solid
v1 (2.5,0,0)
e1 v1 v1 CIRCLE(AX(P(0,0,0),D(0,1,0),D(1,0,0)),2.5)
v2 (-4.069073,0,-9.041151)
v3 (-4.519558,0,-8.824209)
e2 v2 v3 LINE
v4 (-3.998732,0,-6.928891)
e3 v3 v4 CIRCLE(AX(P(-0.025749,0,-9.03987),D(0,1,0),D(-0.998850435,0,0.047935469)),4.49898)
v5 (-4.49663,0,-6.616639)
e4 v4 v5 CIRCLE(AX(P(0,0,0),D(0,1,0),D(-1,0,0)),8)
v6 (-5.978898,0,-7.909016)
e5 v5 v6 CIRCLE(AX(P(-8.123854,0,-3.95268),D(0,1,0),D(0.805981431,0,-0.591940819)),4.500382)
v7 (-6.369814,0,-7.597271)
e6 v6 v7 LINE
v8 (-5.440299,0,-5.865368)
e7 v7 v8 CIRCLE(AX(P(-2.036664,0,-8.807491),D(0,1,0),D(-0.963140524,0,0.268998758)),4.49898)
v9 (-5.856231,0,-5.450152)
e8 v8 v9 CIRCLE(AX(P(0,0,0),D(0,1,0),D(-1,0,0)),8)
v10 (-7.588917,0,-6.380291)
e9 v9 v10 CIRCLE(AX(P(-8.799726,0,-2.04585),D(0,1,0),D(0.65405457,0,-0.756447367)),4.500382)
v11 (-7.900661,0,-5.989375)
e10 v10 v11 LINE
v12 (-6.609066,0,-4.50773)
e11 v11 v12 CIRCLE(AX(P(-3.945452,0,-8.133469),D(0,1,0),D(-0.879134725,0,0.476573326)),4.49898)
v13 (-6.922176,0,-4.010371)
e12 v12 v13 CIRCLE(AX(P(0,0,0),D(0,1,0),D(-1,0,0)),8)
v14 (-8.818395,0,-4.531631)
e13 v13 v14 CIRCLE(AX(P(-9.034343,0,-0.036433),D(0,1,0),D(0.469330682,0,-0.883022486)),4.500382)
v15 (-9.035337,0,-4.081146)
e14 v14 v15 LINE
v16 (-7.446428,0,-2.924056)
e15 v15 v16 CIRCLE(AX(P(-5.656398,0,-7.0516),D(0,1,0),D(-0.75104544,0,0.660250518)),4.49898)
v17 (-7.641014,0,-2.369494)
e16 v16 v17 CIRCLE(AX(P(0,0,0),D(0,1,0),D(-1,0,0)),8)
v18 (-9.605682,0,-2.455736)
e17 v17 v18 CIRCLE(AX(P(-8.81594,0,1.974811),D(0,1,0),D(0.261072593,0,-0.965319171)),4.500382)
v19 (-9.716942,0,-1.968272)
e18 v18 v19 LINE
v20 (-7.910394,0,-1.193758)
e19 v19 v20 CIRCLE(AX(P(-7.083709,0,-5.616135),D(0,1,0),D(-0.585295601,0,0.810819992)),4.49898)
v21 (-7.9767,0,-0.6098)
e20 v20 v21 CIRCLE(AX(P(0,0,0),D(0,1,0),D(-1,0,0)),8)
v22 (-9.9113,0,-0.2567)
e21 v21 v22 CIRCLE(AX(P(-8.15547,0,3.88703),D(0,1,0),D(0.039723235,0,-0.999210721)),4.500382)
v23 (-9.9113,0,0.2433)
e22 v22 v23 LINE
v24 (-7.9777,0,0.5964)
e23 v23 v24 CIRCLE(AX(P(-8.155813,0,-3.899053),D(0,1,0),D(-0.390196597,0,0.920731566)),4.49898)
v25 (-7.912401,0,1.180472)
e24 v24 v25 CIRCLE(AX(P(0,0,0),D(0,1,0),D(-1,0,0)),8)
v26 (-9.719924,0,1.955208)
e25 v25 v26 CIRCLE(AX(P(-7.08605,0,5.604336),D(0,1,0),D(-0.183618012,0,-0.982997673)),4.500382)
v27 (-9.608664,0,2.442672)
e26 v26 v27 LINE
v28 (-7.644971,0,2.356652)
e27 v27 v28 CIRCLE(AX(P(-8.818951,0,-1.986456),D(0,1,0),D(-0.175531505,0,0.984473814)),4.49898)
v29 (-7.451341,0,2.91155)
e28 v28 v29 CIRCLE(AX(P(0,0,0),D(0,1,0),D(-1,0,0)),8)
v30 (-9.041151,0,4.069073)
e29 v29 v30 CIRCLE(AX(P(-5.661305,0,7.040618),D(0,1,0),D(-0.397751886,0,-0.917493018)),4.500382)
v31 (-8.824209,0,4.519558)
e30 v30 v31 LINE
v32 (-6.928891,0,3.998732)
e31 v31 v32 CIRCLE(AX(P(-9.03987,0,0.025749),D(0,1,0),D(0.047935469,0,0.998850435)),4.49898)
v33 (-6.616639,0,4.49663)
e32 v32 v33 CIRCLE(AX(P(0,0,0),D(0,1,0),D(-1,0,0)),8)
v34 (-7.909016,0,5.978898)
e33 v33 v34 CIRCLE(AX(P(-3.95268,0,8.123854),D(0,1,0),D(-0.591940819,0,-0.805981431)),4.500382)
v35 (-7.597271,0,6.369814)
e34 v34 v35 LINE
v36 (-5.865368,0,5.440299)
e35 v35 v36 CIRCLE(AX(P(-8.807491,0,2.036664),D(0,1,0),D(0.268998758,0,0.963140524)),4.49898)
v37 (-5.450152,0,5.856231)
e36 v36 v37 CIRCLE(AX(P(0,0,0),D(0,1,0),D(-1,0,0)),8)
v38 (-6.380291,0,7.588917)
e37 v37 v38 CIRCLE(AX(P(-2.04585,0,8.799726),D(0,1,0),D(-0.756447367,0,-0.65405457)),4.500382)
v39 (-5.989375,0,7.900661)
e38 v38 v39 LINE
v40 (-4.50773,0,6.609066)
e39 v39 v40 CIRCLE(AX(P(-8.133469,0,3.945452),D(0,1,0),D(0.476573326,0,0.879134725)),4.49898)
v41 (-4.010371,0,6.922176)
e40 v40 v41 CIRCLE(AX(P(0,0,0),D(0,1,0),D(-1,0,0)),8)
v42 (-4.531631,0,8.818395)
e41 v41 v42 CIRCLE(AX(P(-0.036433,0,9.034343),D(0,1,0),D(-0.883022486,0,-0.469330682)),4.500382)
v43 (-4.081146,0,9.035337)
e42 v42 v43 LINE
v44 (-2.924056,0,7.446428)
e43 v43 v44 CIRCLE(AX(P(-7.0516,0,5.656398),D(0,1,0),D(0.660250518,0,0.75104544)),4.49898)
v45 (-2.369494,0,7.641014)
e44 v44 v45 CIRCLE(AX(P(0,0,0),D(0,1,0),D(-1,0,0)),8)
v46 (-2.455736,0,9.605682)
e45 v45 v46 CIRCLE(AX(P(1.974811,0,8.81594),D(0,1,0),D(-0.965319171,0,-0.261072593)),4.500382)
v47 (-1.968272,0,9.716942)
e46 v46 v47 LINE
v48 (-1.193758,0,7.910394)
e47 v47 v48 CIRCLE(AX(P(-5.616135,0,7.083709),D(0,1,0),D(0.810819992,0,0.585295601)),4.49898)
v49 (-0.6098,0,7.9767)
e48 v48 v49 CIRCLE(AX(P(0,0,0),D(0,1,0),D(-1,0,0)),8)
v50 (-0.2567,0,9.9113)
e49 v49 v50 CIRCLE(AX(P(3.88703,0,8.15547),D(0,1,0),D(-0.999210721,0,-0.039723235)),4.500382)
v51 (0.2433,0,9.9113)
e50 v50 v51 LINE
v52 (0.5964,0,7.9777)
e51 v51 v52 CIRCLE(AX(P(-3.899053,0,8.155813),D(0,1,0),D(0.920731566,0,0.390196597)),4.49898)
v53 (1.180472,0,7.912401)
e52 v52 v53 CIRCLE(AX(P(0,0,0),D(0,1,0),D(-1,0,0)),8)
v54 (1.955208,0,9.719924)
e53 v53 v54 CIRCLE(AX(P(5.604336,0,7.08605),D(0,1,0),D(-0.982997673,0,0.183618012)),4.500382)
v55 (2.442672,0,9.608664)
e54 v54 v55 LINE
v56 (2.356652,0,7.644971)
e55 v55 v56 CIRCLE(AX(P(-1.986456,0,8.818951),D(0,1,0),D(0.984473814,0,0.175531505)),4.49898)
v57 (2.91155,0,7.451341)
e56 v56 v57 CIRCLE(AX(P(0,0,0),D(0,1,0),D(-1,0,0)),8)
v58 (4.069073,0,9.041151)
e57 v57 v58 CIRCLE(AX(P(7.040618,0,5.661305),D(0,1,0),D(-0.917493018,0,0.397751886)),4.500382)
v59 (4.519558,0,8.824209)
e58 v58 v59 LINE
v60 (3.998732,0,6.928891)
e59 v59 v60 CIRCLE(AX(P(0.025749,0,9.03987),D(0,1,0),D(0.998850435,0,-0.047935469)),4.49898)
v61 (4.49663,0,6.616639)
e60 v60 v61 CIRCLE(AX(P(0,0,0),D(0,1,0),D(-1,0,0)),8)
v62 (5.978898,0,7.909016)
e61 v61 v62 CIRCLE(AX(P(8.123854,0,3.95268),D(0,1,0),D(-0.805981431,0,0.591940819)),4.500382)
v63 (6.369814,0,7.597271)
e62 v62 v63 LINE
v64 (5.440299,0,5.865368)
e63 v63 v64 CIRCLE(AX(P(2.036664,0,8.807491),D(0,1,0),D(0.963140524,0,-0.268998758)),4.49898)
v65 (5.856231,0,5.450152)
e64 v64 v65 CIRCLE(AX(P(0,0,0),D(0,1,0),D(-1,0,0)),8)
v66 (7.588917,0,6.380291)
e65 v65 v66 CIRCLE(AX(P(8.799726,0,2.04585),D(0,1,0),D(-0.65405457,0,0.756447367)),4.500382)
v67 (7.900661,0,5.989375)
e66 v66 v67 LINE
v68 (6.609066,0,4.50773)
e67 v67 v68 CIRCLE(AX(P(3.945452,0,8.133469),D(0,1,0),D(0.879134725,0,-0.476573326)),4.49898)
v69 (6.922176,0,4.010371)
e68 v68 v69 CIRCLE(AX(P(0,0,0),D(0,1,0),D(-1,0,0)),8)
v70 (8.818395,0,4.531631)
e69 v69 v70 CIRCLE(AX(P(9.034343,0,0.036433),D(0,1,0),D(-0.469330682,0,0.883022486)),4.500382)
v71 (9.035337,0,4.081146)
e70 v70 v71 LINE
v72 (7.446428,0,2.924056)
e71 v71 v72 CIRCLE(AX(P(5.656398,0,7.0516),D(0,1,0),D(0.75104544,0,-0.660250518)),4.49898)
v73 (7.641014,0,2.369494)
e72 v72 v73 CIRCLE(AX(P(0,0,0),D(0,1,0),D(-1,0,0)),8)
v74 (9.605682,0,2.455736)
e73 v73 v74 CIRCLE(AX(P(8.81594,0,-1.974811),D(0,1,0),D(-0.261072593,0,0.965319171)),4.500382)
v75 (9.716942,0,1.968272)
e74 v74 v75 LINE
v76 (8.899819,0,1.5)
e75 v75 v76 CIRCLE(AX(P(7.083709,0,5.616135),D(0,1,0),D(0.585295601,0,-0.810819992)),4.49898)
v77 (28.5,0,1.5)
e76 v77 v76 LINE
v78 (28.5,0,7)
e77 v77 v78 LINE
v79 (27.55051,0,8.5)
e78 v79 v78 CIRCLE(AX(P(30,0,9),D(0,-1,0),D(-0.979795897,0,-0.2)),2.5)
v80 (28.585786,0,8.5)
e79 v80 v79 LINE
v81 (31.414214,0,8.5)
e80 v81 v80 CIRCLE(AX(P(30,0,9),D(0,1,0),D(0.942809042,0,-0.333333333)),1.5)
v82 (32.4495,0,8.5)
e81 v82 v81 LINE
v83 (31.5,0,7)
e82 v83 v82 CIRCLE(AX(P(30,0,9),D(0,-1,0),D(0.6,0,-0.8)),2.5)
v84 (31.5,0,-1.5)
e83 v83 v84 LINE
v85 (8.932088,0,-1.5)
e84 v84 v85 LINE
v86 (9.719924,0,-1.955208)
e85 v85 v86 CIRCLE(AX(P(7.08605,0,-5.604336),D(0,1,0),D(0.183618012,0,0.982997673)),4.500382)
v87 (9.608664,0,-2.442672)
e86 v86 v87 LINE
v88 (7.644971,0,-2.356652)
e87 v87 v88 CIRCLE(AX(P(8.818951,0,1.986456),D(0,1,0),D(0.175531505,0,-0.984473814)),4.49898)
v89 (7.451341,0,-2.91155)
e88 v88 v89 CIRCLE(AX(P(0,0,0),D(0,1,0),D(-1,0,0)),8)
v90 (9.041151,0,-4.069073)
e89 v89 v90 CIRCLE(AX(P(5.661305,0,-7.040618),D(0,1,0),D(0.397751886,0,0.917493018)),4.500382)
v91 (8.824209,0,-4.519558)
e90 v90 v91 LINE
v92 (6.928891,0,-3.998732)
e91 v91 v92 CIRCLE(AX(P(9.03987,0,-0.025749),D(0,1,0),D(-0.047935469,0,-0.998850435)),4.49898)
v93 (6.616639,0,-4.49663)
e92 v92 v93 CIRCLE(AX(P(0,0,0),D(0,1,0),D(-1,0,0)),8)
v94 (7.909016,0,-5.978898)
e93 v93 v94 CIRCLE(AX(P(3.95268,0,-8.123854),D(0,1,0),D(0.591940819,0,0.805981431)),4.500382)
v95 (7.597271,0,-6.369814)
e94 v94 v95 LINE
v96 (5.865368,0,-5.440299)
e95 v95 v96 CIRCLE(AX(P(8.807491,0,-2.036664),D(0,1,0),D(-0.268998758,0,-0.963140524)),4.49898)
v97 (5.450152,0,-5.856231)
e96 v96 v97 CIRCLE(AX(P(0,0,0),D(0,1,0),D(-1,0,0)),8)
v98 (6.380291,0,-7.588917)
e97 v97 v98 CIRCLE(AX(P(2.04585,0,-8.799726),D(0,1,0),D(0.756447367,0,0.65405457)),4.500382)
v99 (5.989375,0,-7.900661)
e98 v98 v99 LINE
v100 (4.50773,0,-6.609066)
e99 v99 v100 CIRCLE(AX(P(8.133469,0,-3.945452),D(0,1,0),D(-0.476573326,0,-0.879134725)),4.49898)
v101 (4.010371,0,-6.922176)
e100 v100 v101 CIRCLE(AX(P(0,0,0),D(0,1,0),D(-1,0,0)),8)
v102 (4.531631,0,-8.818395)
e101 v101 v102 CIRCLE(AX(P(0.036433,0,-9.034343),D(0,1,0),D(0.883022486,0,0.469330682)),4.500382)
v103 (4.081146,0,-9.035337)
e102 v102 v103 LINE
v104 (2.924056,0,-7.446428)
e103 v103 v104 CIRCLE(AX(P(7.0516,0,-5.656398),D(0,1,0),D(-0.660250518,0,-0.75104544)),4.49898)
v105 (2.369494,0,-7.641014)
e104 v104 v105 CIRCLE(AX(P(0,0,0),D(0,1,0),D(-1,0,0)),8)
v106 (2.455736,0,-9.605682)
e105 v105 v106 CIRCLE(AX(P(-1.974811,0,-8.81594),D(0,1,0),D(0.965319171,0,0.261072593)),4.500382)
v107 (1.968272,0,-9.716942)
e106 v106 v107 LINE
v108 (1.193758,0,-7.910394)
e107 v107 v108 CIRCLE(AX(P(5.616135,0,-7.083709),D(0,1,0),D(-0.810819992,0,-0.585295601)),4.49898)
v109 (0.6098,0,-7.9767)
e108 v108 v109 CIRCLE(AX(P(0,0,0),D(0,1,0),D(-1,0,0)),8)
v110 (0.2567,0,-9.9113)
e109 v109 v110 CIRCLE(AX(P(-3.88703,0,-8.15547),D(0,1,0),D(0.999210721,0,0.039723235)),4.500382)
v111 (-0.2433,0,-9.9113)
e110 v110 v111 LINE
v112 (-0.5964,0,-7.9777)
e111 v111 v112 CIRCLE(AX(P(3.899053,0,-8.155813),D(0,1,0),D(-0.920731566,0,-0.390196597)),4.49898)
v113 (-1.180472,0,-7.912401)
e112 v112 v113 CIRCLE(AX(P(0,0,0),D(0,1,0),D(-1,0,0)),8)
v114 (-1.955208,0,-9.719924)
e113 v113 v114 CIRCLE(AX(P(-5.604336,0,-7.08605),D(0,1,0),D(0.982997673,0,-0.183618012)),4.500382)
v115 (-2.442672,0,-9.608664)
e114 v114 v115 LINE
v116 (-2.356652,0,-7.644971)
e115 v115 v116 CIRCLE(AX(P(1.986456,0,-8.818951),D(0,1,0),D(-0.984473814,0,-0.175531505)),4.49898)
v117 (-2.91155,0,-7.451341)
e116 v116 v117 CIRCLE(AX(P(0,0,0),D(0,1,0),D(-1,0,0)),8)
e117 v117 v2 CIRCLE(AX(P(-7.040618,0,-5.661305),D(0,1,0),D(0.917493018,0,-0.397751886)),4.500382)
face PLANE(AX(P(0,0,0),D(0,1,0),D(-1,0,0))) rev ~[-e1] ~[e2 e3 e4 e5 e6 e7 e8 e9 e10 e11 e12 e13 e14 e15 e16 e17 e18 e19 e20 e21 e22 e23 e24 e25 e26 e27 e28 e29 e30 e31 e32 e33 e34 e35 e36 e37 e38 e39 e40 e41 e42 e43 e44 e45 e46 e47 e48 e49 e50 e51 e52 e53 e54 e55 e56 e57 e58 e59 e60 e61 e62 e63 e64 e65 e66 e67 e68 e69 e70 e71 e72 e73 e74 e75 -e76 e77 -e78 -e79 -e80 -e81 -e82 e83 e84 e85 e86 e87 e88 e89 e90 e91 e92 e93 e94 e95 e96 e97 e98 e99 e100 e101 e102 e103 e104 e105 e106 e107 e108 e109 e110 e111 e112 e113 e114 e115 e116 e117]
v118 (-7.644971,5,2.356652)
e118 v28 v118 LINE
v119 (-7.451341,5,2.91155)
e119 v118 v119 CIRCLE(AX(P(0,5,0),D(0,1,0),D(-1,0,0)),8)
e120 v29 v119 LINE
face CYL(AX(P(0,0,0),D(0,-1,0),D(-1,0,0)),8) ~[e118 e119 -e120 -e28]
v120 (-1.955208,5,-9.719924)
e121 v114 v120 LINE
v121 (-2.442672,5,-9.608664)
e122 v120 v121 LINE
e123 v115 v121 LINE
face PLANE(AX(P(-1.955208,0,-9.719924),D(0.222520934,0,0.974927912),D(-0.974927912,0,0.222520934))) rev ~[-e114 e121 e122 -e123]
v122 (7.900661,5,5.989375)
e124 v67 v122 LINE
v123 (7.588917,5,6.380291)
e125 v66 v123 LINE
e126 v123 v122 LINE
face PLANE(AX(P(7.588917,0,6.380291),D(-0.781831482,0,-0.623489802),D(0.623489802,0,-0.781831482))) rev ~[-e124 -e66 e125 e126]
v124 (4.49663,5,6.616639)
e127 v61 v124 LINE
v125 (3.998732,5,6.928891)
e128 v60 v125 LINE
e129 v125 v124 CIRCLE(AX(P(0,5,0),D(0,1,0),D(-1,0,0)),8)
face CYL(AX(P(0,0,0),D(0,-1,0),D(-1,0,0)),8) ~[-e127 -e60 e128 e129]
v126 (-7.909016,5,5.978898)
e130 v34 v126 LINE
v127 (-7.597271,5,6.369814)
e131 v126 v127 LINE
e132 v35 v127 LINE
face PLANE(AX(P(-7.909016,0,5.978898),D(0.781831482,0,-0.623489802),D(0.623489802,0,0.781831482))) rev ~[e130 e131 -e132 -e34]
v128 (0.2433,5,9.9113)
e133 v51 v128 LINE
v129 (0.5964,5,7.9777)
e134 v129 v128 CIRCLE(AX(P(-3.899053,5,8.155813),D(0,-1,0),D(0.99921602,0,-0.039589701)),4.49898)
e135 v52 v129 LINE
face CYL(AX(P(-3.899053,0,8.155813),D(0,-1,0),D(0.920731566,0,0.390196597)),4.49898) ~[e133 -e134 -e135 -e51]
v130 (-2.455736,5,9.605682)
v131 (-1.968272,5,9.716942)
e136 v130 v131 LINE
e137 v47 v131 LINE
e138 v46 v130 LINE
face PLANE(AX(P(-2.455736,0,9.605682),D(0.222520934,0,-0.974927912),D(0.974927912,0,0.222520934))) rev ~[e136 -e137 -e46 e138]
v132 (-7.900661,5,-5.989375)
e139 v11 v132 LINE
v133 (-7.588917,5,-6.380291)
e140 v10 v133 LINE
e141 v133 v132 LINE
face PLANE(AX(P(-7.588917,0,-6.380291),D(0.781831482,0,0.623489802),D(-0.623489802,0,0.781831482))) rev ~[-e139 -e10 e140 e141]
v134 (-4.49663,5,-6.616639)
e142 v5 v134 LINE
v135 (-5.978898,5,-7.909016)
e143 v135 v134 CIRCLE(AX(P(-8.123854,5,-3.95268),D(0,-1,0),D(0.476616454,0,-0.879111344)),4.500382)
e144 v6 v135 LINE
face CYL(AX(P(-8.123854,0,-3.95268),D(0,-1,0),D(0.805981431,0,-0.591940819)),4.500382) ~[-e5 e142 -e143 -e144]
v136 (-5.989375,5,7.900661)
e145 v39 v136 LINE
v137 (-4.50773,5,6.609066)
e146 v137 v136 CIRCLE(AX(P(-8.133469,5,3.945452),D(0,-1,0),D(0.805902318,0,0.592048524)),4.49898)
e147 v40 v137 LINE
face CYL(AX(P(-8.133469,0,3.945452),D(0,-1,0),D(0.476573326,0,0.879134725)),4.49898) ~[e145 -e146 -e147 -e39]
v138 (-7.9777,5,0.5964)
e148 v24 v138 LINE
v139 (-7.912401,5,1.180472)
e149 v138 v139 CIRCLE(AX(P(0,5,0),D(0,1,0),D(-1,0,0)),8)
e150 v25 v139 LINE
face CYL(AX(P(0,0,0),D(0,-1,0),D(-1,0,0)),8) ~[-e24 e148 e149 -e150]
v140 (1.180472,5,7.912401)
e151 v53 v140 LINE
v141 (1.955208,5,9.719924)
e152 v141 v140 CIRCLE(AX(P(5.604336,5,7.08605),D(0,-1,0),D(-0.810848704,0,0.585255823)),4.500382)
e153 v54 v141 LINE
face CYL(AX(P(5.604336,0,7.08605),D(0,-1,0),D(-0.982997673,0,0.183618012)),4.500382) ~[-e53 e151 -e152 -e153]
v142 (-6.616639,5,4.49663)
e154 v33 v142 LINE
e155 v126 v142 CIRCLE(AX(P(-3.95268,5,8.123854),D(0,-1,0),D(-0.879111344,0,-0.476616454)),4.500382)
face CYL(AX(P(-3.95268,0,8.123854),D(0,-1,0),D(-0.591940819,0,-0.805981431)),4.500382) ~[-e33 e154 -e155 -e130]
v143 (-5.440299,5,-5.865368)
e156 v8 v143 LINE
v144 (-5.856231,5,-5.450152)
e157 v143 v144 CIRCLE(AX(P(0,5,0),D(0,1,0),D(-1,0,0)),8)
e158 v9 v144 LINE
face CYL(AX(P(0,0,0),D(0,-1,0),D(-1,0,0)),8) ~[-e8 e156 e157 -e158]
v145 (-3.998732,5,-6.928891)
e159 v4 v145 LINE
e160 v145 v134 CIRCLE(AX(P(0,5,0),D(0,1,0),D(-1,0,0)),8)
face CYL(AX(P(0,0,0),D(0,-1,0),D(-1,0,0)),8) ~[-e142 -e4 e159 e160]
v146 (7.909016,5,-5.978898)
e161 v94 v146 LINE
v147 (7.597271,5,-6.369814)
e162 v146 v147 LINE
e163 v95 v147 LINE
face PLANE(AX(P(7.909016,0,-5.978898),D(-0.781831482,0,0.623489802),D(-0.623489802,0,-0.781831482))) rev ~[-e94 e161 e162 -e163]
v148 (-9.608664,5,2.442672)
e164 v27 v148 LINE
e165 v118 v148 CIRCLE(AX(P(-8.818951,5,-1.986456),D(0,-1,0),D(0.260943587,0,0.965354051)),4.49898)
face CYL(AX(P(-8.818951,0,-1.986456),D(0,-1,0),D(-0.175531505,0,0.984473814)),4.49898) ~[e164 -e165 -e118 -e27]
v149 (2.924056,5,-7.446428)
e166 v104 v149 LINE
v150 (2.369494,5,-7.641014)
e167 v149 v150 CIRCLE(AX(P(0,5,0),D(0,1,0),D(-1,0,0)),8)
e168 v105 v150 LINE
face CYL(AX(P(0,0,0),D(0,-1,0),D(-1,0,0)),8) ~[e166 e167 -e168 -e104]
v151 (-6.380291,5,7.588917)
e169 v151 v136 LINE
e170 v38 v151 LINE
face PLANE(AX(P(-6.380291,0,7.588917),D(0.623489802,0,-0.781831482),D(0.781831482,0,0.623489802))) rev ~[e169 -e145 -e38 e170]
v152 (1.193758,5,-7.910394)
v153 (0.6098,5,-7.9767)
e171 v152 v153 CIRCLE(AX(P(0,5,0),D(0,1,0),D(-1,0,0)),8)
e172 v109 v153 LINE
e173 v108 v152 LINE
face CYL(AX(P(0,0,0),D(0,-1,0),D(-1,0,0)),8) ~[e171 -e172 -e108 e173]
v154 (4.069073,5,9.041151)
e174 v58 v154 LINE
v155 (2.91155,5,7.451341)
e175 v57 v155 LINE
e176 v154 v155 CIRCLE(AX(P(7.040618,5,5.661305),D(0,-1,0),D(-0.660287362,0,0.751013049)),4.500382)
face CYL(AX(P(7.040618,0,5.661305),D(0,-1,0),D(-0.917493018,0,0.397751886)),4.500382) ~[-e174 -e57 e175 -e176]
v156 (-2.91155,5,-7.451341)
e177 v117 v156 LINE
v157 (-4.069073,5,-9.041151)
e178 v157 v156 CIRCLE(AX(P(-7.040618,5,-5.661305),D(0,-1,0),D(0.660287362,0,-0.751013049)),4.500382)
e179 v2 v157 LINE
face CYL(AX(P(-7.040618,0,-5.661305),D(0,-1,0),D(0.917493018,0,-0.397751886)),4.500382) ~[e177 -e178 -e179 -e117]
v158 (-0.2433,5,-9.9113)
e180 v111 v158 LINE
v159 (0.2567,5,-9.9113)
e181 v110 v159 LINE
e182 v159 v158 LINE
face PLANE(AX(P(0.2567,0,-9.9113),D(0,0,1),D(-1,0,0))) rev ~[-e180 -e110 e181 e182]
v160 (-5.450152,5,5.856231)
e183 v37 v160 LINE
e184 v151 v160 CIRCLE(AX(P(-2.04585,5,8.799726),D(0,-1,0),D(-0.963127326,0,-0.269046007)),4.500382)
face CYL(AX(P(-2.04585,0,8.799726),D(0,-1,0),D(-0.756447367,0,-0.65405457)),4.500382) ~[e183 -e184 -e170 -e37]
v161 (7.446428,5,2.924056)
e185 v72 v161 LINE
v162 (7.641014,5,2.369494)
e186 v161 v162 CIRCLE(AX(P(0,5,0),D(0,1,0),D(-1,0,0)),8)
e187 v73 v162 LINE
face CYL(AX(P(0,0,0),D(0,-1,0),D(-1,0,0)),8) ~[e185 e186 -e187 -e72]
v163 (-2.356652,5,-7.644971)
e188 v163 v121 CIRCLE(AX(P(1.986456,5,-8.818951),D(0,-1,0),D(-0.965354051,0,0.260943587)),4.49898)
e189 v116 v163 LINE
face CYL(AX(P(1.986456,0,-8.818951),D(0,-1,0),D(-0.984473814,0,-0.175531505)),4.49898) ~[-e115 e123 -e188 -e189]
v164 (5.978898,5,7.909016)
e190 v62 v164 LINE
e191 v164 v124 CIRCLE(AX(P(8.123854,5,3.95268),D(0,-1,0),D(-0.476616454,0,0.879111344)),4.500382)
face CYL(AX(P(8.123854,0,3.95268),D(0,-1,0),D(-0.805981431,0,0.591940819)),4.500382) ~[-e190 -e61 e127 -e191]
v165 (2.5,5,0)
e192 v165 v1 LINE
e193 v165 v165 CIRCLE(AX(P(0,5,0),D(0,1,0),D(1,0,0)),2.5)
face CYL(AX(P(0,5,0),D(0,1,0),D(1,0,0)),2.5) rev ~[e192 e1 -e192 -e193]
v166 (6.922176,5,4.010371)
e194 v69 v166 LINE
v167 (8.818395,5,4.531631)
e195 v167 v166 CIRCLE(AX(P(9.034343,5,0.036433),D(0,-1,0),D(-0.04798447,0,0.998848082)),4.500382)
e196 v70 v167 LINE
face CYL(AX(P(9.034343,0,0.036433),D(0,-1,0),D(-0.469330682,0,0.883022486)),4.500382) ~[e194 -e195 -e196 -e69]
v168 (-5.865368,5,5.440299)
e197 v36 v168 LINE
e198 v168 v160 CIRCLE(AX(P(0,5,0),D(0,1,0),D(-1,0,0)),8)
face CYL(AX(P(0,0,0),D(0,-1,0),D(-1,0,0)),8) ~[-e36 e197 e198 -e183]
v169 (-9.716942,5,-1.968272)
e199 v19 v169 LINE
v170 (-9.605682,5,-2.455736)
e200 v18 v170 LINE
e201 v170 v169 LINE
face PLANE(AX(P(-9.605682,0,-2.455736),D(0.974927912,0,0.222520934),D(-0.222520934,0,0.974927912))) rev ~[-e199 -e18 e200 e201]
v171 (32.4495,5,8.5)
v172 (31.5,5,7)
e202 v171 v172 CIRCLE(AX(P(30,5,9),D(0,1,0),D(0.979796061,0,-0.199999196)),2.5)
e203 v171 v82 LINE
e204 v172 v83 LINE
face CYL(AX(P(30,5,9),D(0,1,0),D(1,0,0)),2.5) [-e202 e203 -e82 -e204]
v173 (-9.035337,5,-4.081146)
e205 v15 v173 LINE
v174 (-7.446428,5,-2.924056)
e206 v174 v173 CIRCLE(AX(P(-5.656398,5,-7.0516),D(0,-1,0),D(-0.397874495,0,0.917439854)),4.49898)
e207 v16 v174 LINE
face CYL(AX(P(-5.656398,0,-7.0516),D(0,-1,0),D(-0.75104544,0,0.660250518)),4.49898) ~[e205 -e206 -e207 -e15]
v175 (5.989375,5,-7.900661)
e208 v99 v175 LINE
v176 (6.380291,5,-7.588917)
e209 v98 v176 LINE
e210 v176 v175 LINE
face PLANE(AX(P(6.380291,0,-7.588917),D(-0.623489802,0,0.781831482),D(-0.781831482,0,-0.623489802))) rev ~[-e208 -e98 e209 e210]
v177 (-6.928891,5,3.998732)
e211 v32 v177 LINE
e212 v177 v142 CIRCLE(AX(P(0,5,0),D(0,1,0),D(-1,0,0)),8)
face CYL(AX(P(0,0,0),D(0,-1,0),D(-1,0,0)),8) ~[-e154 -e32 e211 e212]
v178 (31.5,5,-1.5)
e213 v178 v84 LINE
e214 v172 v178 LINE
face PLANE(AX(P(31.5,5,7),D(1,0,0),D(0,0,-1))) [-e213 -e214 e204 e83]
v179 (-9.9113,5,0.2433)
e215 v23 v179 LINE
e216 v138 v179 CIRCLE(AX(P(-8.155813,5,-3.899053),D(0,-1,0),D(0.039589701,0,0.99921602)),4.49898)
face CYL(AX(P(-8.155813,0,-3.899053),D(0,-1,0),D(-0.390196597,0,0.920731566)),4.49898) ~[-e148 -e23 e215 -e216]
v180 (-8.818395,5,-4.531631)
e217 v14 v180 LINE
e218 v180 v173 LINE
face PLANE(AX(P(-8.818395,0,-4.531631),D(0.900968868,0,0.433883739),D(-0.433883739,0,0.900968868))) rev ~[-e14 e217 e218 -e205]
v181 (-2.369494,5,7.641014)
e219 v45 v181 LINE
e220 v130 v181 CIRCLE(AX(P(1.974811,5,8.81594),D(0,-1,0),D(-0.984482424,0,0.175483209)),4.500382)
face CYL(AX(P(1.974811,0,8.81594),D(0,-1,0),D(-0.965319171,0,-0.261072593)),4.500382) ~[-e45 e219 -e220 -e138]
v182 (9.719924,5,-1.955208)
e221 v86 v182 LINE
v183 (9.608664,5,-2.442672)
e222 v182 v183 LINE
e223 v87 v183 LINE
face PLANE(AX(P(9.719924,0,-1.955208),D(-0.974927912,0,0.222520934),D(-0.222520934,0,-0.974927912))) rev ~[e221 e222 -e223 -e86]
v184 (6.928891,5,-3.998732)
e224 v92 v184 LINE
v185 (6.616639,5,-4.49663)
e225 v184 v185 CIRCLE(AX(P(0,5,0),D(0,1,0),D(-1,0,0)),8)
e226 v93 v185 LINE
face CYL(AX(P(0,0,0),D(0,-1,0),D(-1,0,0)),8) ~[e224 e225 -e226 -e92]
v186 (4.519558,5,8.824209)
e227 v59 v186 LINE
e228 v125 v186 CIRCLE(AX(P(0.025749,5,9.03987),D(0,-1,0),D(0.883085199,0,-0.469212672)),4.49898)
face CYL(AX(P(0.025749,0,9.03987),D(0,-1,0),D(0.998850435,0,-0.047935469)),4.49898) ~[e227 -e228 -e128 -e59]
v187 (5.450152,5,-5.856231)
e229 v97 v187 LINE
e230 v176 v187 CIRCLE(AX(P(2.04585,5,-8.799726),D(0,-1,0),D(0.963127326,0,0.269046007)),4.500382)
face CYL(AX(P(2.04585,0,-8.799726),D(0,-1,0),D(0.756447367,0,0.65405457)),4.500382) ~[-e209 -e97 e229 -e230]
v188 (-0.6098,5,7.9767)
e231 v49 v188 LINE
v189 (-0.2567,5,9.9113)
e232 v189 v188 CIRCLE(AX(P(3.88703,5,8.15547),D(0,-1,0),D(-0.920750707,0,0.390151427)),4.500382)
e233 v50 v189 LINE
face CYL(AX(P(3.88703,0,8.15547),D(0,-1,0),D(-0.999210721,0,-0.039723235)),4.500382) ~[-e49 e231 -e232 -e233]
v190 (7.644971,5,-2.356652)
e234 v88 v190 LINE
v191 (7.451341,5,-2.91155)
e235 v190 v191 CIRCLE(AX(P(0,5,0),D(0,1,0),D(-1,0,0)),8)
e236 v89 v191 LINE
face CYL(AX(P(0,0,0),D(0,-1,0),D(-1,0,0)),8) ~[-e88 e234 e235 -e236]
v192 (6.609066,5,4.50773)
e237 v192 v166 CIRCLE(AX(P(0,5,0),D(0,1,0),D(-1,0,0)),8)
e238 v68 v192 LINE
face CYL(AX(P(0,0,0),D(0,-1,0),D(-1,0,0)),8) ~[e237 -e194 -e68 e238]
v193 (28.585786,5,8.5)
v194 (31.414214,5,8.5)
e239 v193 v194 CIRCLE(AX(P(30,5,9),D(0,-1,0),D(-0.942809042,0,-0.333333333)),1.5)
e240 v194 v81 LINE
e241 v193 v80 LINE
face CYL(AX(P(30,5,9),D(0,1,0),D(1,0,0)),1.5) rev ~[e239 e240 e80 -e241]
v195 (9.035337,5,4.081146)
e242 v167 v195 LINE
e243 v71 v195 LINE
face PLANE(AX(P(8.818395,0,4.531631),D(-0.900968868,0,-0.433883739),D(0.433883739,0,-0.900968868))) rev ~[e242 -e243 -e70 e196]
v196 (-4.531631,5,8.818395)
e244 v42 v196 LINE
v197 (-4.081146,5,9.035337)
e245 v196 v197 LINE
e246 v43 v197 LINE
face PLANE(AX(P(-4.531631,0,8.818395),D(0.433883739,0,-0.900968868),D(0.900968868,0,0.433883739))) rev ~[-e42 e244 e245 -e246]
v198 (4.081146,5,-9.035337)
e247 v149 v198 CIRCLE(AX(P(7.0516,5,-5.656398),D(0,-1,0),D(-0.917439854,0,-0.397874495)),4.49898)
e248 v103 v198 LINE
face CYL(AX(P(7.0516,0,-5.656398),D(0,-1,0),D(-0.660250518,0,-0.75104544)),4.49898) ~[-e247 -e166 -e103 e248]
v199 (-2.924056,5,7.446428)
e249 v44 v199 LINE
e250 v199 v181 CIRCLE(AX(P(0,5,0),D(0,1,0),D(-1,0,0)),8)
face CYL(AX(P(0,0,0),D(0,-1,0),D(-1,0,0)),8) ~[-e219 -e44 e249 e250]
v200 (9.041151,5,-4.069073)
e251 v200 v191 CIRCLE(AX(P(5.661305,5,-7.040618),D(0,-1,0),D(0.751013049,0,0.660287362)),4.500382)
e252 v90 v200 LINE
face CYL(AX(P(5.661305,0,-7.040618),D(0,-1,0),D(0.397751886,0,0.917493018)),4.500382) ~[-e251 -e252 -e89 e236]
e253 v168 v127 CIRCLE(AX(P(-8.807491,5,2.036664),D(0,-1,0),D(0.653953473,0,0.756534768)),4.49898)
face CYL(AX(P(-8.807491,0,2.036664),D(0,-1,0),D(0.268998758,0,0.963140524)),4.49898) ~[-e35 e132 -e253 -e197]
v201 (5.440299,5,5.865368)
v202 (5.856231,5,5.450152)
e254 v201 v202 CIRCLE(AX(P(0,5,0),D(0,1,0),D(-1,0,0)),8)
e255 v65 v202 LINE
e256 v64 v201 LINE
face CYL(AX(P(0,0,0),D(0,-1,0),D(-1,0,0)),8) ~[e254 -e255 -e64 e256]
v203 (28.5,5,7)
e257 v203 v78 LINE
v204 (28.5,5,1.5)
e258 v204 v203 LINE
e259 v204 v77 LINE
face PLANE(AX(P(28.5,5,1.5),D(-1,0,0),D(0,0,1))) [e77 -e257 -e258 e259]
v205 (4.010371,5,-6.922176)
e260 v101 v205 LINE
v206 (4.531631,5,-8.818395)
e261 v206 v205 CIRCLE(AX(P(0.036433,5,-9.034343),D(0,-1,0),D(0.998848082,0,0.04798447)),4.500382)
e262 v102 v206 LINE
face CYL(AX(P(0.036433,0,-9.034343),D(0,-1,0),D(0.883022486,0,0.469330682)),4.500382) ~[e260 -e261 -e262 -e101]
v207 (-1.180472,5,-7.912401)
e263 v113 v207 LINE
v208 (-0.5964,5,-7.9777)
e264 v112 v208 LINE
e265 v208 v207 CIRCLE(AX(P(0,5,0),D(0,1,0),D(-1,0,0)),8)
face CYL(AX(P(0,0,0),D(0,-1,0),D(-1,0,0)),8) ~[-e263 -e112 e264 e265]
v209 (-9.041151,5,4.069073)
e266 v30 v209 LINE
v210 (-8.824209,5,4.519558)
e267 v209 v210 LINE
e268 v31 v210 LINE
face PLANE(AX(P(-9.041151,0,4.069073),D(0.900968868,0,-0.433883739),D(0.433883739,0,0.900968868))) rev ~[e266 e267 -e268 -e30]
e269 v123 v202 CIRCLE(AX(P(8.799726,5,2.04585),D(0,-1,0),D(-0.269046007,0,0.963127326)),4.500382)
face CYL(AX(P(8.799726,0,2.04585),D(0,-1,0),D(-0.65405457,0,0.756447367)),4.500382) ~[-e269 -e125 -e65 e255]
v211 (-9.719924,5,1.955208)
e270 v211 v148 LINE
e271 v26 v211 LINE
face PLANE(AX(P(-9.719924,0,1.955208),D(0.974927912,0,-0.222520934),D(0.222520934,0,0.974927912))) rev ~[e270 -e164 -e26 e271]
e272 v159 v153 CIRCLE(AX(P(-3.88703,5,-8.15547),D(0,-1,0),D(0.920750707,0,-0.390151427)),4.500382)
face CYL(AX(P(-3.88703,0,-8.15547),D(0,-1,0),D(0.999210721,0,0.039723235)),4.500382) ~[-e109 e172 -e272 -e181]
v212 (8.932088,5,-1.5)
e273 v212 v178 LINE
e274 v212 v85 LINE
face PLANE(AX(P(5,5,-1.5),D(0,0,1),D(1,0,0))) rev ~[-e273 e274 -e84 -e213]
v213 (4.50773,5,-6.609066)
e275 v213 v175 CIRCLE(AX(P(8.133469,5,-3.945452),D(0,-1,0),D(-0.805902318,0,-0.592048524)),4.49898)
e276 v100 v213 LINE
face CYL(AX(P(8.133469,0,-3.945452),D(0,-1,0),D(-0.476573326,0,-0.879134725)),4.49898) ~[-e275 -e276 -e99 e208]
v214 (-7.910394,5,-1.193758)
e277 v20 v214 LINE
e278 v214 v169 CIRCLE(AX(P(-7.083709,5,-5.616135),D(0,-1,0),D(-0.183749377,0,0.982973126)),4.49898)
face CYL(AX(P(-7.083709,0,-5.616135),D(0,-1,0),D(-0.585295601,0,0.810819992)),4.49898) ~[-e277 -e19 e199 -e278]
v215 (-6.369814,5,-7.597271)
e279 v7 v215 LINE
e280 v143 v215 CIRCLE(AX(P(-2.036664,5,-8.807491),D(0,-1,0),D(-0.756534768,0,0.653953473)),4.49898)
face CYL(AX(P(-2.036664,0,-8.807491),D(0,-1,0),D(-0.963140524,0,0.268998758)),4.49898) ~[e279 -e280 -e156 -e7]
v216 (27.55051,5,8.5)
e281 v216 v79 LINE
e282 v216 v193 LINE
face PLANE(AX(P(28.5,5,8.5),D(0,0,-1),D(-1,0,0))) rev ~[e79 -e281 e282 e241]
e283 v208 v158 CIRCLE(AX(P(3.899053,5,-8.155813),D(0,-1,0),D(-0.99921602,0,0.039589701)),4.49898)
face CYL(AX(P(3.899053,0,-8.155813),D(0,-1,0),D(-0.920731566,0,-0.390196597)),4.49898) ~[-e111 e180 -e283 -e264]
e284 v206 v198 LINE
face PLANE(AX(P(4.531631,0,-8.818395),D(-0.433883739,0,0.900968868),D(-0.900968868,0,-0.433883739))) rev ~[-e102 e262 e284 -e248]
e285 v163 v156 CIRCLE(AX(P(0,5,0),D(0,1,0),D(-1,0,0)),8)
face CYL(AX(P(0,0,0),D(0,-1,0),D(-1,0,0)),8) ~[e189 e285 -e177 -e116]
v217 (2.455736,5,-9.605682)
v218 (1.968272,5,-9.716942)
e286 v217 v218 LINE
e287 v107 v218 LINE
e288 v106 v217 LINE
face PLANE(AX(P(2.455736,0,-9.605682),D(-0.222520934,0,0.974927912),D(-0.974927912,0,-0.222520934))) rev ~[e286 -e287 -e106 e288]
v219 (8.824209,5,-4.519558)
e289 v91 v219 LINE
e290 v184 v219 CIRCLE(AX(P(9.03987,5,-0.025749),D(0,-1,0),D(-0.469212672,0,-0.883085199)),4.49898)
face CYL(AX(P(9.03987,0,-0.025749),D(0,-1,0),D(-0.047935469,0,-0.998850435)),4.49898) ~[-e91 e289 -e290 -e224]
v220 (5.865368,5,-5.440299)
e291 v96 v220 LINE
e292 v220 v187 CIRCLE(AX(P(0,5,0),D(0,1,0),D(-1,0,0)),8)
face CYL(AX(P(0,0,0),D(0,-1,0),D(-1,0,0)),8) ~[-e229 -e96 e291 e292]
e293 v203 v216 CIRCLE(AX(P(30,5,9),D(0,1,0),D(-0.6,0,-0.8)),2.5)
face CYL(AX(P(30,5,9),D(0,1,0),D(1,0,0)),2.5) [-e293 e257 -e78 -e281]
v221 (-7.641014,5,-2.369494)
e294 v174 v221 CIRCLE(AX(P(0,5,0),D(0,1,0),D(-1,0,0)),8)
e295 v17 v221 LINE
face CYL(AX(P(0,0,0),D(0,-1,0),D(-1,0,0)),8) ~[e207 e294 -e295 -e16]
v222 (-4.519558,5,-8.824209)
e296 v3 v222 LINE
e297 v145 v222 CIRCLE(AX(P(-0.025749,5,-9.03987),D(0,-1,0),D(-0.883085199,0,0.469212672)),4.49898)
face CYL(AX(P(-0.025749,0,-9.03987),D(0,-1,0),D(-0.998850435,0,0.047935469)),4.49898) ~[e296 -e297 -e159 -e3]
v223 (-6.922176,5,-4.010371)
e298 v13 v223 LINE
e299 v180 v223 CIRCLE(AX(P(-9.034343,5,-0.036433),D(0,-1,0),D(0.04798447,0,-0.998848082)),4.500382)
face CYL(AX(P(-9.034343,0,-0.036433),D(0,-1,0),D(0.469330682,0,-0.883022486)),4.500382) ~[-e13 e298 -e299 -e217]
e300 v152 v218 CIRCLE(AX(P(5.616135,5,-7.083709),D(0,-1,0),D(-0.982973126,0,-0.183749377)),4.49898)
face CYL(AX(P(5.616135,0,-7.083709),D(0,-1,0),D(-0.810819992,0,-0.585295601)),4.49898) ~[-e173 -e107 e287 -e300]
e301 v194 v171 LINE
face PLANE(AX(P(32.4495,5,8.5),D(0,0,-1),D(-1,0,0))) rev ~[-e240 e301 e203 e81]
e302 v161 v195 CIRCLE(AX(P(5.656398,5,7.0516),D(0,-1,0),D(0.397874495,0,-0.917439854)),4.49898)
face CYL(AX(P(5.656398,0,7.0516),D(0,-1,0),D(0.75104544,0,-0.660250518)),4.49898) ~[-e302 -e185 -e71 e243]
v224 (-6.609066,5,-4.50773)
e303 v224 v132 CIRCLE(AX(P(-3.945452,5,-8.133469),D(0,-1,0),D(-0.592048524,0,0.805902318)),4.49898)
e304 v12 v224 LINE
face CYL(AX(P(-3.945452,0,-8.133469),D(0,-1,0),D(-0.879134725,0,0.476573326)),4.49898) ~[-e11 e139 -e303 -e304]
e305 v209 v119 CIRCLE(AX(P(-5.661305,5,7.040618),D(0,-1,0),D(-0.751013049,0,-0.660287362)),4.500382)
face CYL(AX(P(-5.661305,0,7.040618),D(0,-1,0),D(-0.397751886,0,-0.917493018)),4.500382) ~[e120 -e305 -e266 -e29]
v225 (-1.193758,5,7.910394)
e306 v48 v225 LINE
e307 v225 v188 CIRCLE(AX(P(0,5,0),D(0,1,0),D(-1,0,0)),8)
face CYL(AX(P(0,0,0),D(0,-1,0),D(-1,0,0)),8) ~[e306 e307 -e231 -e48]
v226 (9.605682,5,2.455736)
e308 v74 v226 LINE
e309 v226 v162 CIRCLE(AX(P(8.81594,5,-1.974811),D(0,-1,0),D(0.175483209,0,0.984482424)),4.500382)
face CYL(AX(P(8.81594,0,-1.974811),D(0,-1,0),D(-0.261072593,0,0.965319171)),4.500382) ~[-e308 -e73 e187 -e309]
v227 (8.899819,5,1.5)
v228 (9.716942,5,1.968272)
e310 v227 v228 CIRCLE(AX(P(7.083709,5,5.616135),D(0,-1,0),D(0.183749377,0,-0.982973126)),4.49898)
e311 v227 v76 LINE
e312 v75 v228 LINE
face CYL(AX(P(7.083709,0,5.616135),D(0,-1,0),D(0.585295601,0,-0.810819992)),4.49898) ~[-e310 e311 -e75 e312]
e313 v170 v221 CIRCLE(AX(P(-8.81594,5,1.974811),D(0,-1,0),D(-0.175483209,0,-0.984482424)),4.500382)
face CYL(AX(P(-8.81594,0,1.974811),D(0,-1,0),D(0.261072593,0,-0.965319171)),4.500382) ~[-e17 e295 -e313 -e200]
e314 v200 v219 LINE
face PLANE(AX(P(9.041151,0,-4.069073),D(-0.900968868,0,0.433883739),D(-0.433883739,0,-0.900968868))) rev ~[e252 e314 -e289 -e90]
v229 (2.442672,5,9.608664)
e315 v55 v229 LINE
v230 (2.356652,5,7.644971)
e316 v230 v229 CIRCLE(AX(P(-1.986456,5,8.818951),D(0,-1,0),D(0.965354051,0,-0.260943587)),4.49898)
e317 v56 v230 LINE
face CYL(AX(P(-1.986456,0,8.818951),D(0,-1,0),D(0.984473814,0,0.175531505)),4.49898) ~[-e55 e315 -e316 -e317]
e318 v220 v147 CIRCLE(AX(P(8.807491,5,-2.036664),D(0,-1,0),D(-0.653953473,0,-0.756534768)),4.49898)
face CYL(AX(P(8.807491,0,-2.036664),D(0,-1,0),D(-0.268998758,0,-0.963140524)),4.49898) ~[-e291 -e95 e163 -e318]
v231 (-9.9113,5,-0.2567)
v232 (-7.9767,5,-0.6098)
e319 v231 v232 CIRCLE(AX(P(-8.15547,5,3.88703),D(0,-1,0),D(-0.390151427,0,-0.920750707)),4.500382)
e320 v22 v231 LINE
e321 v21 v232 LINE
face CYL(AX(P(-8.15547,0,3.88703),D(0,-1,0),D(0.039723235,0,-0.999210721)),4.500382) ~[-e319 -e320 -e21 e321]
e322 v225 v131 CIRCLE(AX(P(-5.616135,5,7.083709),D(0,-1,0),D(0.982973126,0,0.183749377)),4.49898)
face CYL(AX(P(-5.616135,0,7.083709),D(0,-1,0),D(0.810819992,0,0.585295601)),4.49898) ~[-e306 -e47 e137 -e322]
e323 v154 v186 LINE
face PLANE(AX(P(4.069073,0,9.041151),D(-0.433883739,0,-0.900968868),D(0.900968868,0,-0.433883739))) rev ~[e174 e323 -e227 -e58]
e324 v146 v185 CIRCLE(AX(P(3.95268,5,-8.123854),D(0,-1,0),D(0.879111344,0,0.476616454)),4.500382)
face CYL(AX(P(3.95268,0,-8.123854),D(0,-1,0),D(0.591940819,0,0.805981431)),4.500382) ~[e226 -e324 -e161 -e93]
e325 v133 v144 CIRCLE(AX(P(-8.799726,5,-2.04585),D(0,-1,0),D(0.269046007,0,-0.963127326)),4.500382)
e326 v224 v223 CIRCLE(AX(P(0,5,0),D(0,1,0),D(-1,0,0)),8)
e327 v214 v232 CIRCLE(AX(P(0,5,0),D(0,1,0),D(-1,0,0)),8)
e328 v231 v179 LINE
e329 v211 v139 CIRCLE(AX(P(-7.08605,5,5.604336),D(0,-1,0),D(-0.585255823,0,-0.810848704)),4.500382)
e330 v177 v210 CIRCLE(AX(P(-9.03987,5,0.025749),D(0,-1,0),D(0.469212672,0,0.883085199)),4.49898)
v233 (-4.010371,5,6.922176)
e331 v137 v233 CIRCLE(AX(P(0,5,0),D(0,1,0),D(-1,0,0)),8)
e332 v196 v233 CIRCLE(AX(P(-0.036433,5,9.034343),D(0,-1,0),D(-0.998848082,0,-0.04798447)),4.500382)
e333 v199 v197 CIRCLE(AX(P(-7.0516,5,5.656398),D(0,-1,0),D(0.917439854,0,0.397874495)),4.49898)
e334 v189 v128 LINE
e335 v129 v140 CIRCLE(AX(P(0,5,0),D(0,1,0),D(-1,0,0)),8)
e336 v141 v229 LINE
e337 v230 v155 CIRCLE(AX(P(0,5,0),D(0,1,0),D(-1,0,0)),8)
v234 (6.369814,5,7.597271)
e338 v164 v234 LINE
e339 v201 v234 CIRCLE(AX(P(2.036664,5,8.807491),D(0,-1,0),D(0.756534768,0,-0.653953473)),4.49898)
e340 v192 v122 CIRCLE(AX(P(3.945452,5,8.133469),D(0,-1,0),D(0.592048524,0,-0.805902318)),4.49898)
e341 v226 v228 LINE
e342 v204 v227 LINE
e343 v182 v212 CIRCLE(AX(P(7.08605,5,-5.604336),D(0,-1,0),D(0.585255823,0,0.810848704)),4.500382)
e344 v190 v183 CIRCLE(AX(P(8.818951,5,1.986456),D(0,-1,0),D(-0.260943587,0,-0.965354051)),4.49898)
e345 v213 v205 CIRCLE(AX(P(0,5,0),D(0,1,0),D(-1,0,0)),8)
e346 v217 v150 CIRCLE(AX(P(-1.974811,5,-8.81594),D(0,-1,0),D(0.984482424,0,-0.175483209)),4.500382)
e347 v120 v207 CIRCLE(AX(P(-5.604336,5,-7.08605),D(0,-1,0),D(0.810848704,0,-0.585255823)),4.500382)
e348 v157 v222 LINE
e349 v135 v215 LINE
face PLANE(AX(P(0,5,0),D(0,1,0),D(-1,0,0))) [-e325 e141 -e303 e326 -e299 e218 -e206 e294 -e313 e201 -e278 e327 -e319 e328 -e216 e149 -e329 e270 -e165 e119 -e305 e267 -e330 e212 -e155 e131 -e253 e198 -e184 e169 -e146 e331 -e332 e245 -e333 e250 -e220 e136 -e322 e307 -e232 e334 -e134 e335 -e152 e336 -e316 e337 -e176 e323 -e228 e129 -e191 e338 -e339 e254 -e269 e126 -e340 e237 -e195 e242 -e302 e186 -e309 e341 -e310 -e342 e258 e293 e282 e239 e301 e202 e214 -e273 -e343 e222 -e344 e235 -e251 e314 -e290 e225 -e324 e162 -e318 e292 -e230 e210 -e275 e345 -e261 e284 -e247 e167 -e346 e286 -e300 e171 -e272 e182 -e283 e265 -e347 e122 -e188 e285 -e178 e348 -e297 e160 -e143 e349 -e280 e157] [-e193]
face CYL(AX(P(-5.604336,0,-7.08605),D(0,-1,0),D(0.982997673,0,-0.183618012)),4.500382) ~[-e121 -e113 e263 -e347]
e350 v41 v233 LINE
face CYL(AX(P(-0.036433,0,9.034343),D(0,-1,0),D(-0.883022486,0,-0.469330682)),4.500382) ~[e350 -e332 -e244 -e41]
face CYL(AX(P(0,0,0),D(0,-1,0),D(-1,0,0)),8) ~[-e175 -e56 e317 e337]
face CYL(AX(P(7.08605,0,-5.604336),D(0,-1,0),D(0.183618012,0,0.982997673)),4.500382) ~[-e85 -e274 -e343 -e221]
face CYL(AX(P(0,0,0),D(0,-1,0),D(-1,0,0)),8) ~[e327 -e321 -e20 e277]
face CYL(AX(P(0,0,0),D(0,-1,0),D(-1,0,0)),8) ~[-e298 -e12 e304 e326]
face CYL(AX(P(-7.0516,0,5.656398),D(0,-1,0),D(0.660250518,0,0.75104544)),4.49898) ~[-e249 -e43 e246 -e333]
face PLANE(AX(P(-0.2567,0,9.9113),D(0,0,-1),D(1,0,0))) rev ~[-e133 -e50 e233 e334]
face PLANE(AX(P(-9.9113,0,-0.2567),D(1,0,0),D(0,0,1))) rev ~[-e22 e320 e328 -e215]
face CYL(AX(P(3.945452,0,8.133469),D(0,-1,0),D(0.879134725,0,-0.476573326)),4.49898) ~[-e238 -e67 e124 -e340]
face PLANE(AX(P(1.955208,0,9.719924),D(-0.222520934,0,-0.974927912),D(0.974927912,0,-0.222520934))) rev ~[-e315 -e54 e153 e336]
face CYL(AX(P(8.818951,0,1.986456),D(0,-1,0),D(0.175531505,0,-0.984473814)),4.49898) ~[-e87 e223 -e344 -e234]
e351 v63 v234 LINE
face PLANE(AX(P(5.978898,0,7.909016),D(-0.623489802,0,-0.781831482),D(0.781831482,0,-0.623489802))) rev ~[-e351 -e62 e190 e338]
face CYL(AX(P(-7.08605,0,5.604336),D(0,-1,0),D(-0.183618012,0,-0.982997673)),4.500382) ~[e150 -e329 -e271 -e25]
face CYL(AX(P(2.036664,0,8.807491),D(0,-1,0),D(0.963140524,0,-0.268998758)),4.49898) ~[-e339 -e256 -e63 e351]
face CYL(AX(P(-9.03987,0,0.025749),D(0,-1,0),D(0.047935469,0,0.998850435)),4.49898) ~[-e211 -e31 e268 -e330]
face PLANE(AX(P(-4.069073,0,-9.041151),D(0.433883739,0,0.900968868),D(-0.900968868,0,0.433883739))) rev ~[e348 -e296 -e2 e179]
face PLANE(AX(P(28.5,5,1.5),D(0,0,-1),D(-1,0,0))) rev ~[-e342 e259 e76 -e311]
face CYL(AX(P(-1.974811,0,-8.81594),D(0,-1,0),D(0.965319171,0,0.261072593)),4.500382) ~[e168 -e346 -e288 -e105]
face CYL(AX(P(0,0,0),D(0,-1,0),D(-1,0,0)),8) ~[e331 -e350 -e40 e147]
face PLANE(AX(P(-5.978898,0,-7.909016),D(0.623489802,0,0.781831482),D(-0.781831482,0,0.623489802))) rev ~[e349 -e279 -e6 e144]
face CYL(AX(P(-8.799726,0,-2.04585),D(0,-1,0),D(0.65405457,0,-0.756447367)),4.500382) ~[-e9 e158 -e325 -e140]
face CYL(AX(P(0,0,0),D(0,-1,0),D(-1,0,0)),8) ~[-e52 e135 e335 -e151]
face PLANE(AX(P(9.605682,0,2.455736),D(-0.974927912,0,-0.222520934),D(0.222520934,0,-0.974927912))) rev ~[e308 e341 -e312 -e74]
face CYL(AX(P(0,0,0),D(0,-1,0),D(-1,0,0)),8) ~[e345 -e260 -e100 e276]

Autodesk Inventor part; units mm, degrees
ref_plane "YZ Plane" through (0, 0, 0) normal (1, 0, 0) x (0, 1, 0)
ref_plane "XZ Plane" through (0, 0, 0) normal (0, 1, 0) x (-1, 0, 0)
ref_plane "XY Plane" through (0, 0, 0) normal (0, 0, 1) x (1, 0, 0)
sketch "Sketch1" plane through (0, 0, 0) normal (0, 1, 0) x (-1, 0, 0)
  circle A0 centre (0, 0) radius 8
  circle A1 centre (0, 0) radius 2
  line L0 (7.9113, 0.5933) -> (7.9113, -0.6067)
  line L1 (9.9113, -0.2567) -> (9.9113, 0.2433)
  line L2 (7.6237, -0.0067) -> (9.0479, -0.0067) construction
  arc A2 (9.9113, 0.2433) -> (7.9113, 0.5933) centre (8.1555, -3.9001) ccw construction
  arc A3 (7.9113, -0.6067) -> (9.9113, -0.2567) centre (8.1555, 3.8866) ccw construction
  arc A4 (9.9113, 0.2433) -> (7.9113, 0.5933) centre (8.1555, -3.9001) ccw construction
  arc A5 (9.9113, 0.2433) -> (7.9777, 0.5964) centre (8.1555, -3.9001) ccw
  arc A6 (7.9767, -0.6098) -> (9.9113, -0.2567) centre (8.1555, 3.8866) ccw
  line L3 (9.4, 0) -> (9.4, -0.4379)
  line L4 (9.4, 0) -> (9.4, 0.4244)
  arc A7 (5.296, -1.8919) -> (5.296, 1.8784) centre (4.6281, -0.0067) ccw
  circle A8 centre (0, 0) radius 8
  dimension "d0" = 16
  dimension "d1" = 4
  dimension "d2" = 0.25
  dimension "d3" = 0.25
  dimension "d4" = 0.6
  dimension "d7" = 1.2
  dimension "d8" = 4.5
  dimension "d10" = 2
extrude "Extrusion1" add sketch "Sketch1" along normal blind 5
pattern_circular "Circular Pattern1" count 28 over 360 about axis through (0, 0, 0) along (0, 1, 0) of "Extrusion1"
sketch "Sketch8" plane through (0, 5, 0) normal (0, 1, 0) x (1, 0, 0)
  circle A0 centre (0, 0) radius 2.5
  circle A1 centre (0, 0) radius 2
  dimension "d49" = 5
  dimension "d50" = 4
extrude "Extrusion6" cut sketch "Sketch8" against normal blind 13.8125
sketch "Sketch9" plane through (0, 5, 0) normal (0, 1, 0) x (1, 0, 0)
  circle A0 centre (0, 0) radius 2.5 projected
  line L0 (0, 0) -> (30, 0)
  line L1 (30, 0) -> (30, -18)
  line L2 (30, -18) -> (0, -18)
  line L3 (0, -18) -> (0, 0)
  circle A1 centre (0, 0) radius 9.5
  circle A2 centre (0, -18) radius 9.5
  line L4 (30, -9) -> (0, -9)
  circle A3 centre (30, -9) radius 2.5
  line L5 (30, 0) -> (5, 0)
  line L6 (5, 0) -> (5, -1.5)
  line L7 (5, -1.5) -> (30, -1.5)
  line L8 (30, -1.5) -> (30, 0)
  line L9 (5, 0) -> (30, 0)
  line L10 (30, 0) -> (30, 1.5)
  line L11 (30, 1.5) -> (5, 1.5)
  line L12 (5, 1.5) -> (5, 0)
  line L13 (30, 1.5) -> (31.5, 1.5)
  line L14 (31.5, 1.5) -> (31.5, -7.5)
  line L15 (31.5, -7.5) -> (30, -7.5)
  line L16 (30, -7.5) -> (30, 1.5)
  line L17 (30, 1.5) -> (28.5, 1.5)
  line L18 (28.5, 1.5) -> (28.5, -7.5)
  line L19 (28.5, -7.5) -> (30, -7.5)
  line L20 (30, -7.5) -> (30, 1.5)
  circle A4 centre (30, -9) radius 1.5
  line L21 (27.5, -9) -> (32.5, -9)
  line L22 (32.5, -9) -> (32.5, -8.5)
  line L23 (32.5, -8.5) -> (27.5, -8.5)
  line L24 (27.5, -8.5) -> (27.5, -9)
  line L25 (28.5, -7.5) -> (27.5, -8.5)
  line L26 (31.5, -7.5) -> (32.5, -8.5)
  line L27 (27.5, -8.5) -> (28.5, -8.5)
  line L28 (32.5, -8.5) -> (31.5, -8.5)
  line L29 (28.5, -7.5) -> (29, -7.5)
  line L30 (31.5, -7.5) -> (31, -7.5)
  line L31 (31, -7.5) -> (31.5, -8.5)
  line L32 (29, -7.5) -> (28.5, -8.5)
  line L33 (5, 1.5) -> (12.096, 1.5)
  line L34 (12.096, 1.5) -> (12.096, -1.5)
  line L35 (12.096, -1.5) -> (5, -1.5)
  line L36 (5, -1.5) -> (5, 1.5)
  dimension "d57" = 5
  dimension "d53" = 30
  dimension "d54" = 18
  dimension "d55" = 19
  dimension "d56" = 19
  dimension "d58" = 25
  dimension "d59" = 1.5
  dimension "d60" = 1.5
  dimension "d61" = 1.5
  dimension "d62" = 9
  dimension "d63" = 1.5
  dimension "d64" = 3
  dimension "d65" = 5
  dimension "d66" = 0.5
  dimension "d67" = 0.5
  dimension "d68" = 0.5
extrude "Extrusion7" cut sketch "Sketch9" against normal blind 5 contours L12 L11 A1 L0 | L0 A1 L7 L6 | A1 L11 L34 L0 | L0 L34 L7 A1
sketch "Sketch10" plane through (0, 5, 0) normal (0, 1, 0) x (1, 0, 0)
  circle A0 centre (0, 0) radius 2.5 projected
  line L0 (0, 0) -> (30, 0)
  line L1 (30, 0) -> (30, -9)
  line L2 (30, -9) -> (0, -9)
  line L3 (0, -9) -> (0, 0)
  line L4 (5, 1.5) -> (30, 1.5)
  line L5 (30, 1.5) -> (30, -1.5)
  line L6 (30, -1.5) -> (5, -1.5)
  line L7 (5, -1.5) -> (5, 1.5)
  line L8 (31.5, 1.5) -> (28.5, 1.5)
  line L9 (28.5, 1.5) -> (28.5, -7.5)
  line L10 (28.5, -7.5) -> (31.5, -7.5)
  line L11 (31.5, -7.5) -> (31.5, 1.5)
  circle A1 centre (30, -9) radius 1.5
  circle A2 centre (30, -9) radius 2.5
  line L12 (27.5, -9) -> (32.4495, -9)
  line L13 (32.4495, -9) -> (32.4495, -8.5)
  line L14 (27.5, -8.5) -> (27.5, -9)
  line L15 (27.5, -9) -> (32.5, -9)
  line L16 (32.5, -9) -> (32.5, -8.5)
  line L17 (32.5, -8.5) -> (27.5, -8.5)
  line L18 (27.5, -8.5) -> (27.5, -9)
  line L19 (28.5, -7.5) -> (27.5, -8.5)
  line L20 (31.5, -7.5) -> (32.5, -8.5)
  line L21 (28.5, -7.5) -> (29, -7.5)
  line L22 (31.5, -7.5) -> (31, -7.5)
  line L23 (29, -7.5) -> (28.5, -8.5)
  line L24 (31, -7.5) -> (31.5, -8.5)
  point P0 (28.5, -1.5)
  point P1 (28.5, -7)
  point P2 (27.5505, -8.5)
  point P3 (28.5858, -8.5)
  point P4 (31.4142, -8.5)
  point P5 (31.5, -7)
  dimension "d71" = 30
  dimension "d72" = 9
  dimension "d73" = 3
  dimension "d74" = 3
  dimension "d75" = 9
  dimension "d76" = 3
  dimension "d77" = 5
  dimension "d78" = 0.5
  dimension "d79" = 5
  dimension "d80" = 0.5
  dimension "d81" = 0.5
extrude "Extrusion8" add sketch "Sketch10" against normal blind 5 contours L7 L4 L9 L0 | L0 L9 L6 L7 | L9 L4 L5 L0 | L0 L1 L6 L9 | L5 L8 L11 A2 L1 | L6 L1 A2 L9 | A2 L19 L10 L23 L17 | A2 L1 L10 L9 | L9 L19 A2 | L17 L23 L10 A1 | L17 L24 L10 L20 A2 | A2 L11 L10 L1 | L10 L24 L17 A1 | L20 L11 A2
properties part number "NewConceptArms"
